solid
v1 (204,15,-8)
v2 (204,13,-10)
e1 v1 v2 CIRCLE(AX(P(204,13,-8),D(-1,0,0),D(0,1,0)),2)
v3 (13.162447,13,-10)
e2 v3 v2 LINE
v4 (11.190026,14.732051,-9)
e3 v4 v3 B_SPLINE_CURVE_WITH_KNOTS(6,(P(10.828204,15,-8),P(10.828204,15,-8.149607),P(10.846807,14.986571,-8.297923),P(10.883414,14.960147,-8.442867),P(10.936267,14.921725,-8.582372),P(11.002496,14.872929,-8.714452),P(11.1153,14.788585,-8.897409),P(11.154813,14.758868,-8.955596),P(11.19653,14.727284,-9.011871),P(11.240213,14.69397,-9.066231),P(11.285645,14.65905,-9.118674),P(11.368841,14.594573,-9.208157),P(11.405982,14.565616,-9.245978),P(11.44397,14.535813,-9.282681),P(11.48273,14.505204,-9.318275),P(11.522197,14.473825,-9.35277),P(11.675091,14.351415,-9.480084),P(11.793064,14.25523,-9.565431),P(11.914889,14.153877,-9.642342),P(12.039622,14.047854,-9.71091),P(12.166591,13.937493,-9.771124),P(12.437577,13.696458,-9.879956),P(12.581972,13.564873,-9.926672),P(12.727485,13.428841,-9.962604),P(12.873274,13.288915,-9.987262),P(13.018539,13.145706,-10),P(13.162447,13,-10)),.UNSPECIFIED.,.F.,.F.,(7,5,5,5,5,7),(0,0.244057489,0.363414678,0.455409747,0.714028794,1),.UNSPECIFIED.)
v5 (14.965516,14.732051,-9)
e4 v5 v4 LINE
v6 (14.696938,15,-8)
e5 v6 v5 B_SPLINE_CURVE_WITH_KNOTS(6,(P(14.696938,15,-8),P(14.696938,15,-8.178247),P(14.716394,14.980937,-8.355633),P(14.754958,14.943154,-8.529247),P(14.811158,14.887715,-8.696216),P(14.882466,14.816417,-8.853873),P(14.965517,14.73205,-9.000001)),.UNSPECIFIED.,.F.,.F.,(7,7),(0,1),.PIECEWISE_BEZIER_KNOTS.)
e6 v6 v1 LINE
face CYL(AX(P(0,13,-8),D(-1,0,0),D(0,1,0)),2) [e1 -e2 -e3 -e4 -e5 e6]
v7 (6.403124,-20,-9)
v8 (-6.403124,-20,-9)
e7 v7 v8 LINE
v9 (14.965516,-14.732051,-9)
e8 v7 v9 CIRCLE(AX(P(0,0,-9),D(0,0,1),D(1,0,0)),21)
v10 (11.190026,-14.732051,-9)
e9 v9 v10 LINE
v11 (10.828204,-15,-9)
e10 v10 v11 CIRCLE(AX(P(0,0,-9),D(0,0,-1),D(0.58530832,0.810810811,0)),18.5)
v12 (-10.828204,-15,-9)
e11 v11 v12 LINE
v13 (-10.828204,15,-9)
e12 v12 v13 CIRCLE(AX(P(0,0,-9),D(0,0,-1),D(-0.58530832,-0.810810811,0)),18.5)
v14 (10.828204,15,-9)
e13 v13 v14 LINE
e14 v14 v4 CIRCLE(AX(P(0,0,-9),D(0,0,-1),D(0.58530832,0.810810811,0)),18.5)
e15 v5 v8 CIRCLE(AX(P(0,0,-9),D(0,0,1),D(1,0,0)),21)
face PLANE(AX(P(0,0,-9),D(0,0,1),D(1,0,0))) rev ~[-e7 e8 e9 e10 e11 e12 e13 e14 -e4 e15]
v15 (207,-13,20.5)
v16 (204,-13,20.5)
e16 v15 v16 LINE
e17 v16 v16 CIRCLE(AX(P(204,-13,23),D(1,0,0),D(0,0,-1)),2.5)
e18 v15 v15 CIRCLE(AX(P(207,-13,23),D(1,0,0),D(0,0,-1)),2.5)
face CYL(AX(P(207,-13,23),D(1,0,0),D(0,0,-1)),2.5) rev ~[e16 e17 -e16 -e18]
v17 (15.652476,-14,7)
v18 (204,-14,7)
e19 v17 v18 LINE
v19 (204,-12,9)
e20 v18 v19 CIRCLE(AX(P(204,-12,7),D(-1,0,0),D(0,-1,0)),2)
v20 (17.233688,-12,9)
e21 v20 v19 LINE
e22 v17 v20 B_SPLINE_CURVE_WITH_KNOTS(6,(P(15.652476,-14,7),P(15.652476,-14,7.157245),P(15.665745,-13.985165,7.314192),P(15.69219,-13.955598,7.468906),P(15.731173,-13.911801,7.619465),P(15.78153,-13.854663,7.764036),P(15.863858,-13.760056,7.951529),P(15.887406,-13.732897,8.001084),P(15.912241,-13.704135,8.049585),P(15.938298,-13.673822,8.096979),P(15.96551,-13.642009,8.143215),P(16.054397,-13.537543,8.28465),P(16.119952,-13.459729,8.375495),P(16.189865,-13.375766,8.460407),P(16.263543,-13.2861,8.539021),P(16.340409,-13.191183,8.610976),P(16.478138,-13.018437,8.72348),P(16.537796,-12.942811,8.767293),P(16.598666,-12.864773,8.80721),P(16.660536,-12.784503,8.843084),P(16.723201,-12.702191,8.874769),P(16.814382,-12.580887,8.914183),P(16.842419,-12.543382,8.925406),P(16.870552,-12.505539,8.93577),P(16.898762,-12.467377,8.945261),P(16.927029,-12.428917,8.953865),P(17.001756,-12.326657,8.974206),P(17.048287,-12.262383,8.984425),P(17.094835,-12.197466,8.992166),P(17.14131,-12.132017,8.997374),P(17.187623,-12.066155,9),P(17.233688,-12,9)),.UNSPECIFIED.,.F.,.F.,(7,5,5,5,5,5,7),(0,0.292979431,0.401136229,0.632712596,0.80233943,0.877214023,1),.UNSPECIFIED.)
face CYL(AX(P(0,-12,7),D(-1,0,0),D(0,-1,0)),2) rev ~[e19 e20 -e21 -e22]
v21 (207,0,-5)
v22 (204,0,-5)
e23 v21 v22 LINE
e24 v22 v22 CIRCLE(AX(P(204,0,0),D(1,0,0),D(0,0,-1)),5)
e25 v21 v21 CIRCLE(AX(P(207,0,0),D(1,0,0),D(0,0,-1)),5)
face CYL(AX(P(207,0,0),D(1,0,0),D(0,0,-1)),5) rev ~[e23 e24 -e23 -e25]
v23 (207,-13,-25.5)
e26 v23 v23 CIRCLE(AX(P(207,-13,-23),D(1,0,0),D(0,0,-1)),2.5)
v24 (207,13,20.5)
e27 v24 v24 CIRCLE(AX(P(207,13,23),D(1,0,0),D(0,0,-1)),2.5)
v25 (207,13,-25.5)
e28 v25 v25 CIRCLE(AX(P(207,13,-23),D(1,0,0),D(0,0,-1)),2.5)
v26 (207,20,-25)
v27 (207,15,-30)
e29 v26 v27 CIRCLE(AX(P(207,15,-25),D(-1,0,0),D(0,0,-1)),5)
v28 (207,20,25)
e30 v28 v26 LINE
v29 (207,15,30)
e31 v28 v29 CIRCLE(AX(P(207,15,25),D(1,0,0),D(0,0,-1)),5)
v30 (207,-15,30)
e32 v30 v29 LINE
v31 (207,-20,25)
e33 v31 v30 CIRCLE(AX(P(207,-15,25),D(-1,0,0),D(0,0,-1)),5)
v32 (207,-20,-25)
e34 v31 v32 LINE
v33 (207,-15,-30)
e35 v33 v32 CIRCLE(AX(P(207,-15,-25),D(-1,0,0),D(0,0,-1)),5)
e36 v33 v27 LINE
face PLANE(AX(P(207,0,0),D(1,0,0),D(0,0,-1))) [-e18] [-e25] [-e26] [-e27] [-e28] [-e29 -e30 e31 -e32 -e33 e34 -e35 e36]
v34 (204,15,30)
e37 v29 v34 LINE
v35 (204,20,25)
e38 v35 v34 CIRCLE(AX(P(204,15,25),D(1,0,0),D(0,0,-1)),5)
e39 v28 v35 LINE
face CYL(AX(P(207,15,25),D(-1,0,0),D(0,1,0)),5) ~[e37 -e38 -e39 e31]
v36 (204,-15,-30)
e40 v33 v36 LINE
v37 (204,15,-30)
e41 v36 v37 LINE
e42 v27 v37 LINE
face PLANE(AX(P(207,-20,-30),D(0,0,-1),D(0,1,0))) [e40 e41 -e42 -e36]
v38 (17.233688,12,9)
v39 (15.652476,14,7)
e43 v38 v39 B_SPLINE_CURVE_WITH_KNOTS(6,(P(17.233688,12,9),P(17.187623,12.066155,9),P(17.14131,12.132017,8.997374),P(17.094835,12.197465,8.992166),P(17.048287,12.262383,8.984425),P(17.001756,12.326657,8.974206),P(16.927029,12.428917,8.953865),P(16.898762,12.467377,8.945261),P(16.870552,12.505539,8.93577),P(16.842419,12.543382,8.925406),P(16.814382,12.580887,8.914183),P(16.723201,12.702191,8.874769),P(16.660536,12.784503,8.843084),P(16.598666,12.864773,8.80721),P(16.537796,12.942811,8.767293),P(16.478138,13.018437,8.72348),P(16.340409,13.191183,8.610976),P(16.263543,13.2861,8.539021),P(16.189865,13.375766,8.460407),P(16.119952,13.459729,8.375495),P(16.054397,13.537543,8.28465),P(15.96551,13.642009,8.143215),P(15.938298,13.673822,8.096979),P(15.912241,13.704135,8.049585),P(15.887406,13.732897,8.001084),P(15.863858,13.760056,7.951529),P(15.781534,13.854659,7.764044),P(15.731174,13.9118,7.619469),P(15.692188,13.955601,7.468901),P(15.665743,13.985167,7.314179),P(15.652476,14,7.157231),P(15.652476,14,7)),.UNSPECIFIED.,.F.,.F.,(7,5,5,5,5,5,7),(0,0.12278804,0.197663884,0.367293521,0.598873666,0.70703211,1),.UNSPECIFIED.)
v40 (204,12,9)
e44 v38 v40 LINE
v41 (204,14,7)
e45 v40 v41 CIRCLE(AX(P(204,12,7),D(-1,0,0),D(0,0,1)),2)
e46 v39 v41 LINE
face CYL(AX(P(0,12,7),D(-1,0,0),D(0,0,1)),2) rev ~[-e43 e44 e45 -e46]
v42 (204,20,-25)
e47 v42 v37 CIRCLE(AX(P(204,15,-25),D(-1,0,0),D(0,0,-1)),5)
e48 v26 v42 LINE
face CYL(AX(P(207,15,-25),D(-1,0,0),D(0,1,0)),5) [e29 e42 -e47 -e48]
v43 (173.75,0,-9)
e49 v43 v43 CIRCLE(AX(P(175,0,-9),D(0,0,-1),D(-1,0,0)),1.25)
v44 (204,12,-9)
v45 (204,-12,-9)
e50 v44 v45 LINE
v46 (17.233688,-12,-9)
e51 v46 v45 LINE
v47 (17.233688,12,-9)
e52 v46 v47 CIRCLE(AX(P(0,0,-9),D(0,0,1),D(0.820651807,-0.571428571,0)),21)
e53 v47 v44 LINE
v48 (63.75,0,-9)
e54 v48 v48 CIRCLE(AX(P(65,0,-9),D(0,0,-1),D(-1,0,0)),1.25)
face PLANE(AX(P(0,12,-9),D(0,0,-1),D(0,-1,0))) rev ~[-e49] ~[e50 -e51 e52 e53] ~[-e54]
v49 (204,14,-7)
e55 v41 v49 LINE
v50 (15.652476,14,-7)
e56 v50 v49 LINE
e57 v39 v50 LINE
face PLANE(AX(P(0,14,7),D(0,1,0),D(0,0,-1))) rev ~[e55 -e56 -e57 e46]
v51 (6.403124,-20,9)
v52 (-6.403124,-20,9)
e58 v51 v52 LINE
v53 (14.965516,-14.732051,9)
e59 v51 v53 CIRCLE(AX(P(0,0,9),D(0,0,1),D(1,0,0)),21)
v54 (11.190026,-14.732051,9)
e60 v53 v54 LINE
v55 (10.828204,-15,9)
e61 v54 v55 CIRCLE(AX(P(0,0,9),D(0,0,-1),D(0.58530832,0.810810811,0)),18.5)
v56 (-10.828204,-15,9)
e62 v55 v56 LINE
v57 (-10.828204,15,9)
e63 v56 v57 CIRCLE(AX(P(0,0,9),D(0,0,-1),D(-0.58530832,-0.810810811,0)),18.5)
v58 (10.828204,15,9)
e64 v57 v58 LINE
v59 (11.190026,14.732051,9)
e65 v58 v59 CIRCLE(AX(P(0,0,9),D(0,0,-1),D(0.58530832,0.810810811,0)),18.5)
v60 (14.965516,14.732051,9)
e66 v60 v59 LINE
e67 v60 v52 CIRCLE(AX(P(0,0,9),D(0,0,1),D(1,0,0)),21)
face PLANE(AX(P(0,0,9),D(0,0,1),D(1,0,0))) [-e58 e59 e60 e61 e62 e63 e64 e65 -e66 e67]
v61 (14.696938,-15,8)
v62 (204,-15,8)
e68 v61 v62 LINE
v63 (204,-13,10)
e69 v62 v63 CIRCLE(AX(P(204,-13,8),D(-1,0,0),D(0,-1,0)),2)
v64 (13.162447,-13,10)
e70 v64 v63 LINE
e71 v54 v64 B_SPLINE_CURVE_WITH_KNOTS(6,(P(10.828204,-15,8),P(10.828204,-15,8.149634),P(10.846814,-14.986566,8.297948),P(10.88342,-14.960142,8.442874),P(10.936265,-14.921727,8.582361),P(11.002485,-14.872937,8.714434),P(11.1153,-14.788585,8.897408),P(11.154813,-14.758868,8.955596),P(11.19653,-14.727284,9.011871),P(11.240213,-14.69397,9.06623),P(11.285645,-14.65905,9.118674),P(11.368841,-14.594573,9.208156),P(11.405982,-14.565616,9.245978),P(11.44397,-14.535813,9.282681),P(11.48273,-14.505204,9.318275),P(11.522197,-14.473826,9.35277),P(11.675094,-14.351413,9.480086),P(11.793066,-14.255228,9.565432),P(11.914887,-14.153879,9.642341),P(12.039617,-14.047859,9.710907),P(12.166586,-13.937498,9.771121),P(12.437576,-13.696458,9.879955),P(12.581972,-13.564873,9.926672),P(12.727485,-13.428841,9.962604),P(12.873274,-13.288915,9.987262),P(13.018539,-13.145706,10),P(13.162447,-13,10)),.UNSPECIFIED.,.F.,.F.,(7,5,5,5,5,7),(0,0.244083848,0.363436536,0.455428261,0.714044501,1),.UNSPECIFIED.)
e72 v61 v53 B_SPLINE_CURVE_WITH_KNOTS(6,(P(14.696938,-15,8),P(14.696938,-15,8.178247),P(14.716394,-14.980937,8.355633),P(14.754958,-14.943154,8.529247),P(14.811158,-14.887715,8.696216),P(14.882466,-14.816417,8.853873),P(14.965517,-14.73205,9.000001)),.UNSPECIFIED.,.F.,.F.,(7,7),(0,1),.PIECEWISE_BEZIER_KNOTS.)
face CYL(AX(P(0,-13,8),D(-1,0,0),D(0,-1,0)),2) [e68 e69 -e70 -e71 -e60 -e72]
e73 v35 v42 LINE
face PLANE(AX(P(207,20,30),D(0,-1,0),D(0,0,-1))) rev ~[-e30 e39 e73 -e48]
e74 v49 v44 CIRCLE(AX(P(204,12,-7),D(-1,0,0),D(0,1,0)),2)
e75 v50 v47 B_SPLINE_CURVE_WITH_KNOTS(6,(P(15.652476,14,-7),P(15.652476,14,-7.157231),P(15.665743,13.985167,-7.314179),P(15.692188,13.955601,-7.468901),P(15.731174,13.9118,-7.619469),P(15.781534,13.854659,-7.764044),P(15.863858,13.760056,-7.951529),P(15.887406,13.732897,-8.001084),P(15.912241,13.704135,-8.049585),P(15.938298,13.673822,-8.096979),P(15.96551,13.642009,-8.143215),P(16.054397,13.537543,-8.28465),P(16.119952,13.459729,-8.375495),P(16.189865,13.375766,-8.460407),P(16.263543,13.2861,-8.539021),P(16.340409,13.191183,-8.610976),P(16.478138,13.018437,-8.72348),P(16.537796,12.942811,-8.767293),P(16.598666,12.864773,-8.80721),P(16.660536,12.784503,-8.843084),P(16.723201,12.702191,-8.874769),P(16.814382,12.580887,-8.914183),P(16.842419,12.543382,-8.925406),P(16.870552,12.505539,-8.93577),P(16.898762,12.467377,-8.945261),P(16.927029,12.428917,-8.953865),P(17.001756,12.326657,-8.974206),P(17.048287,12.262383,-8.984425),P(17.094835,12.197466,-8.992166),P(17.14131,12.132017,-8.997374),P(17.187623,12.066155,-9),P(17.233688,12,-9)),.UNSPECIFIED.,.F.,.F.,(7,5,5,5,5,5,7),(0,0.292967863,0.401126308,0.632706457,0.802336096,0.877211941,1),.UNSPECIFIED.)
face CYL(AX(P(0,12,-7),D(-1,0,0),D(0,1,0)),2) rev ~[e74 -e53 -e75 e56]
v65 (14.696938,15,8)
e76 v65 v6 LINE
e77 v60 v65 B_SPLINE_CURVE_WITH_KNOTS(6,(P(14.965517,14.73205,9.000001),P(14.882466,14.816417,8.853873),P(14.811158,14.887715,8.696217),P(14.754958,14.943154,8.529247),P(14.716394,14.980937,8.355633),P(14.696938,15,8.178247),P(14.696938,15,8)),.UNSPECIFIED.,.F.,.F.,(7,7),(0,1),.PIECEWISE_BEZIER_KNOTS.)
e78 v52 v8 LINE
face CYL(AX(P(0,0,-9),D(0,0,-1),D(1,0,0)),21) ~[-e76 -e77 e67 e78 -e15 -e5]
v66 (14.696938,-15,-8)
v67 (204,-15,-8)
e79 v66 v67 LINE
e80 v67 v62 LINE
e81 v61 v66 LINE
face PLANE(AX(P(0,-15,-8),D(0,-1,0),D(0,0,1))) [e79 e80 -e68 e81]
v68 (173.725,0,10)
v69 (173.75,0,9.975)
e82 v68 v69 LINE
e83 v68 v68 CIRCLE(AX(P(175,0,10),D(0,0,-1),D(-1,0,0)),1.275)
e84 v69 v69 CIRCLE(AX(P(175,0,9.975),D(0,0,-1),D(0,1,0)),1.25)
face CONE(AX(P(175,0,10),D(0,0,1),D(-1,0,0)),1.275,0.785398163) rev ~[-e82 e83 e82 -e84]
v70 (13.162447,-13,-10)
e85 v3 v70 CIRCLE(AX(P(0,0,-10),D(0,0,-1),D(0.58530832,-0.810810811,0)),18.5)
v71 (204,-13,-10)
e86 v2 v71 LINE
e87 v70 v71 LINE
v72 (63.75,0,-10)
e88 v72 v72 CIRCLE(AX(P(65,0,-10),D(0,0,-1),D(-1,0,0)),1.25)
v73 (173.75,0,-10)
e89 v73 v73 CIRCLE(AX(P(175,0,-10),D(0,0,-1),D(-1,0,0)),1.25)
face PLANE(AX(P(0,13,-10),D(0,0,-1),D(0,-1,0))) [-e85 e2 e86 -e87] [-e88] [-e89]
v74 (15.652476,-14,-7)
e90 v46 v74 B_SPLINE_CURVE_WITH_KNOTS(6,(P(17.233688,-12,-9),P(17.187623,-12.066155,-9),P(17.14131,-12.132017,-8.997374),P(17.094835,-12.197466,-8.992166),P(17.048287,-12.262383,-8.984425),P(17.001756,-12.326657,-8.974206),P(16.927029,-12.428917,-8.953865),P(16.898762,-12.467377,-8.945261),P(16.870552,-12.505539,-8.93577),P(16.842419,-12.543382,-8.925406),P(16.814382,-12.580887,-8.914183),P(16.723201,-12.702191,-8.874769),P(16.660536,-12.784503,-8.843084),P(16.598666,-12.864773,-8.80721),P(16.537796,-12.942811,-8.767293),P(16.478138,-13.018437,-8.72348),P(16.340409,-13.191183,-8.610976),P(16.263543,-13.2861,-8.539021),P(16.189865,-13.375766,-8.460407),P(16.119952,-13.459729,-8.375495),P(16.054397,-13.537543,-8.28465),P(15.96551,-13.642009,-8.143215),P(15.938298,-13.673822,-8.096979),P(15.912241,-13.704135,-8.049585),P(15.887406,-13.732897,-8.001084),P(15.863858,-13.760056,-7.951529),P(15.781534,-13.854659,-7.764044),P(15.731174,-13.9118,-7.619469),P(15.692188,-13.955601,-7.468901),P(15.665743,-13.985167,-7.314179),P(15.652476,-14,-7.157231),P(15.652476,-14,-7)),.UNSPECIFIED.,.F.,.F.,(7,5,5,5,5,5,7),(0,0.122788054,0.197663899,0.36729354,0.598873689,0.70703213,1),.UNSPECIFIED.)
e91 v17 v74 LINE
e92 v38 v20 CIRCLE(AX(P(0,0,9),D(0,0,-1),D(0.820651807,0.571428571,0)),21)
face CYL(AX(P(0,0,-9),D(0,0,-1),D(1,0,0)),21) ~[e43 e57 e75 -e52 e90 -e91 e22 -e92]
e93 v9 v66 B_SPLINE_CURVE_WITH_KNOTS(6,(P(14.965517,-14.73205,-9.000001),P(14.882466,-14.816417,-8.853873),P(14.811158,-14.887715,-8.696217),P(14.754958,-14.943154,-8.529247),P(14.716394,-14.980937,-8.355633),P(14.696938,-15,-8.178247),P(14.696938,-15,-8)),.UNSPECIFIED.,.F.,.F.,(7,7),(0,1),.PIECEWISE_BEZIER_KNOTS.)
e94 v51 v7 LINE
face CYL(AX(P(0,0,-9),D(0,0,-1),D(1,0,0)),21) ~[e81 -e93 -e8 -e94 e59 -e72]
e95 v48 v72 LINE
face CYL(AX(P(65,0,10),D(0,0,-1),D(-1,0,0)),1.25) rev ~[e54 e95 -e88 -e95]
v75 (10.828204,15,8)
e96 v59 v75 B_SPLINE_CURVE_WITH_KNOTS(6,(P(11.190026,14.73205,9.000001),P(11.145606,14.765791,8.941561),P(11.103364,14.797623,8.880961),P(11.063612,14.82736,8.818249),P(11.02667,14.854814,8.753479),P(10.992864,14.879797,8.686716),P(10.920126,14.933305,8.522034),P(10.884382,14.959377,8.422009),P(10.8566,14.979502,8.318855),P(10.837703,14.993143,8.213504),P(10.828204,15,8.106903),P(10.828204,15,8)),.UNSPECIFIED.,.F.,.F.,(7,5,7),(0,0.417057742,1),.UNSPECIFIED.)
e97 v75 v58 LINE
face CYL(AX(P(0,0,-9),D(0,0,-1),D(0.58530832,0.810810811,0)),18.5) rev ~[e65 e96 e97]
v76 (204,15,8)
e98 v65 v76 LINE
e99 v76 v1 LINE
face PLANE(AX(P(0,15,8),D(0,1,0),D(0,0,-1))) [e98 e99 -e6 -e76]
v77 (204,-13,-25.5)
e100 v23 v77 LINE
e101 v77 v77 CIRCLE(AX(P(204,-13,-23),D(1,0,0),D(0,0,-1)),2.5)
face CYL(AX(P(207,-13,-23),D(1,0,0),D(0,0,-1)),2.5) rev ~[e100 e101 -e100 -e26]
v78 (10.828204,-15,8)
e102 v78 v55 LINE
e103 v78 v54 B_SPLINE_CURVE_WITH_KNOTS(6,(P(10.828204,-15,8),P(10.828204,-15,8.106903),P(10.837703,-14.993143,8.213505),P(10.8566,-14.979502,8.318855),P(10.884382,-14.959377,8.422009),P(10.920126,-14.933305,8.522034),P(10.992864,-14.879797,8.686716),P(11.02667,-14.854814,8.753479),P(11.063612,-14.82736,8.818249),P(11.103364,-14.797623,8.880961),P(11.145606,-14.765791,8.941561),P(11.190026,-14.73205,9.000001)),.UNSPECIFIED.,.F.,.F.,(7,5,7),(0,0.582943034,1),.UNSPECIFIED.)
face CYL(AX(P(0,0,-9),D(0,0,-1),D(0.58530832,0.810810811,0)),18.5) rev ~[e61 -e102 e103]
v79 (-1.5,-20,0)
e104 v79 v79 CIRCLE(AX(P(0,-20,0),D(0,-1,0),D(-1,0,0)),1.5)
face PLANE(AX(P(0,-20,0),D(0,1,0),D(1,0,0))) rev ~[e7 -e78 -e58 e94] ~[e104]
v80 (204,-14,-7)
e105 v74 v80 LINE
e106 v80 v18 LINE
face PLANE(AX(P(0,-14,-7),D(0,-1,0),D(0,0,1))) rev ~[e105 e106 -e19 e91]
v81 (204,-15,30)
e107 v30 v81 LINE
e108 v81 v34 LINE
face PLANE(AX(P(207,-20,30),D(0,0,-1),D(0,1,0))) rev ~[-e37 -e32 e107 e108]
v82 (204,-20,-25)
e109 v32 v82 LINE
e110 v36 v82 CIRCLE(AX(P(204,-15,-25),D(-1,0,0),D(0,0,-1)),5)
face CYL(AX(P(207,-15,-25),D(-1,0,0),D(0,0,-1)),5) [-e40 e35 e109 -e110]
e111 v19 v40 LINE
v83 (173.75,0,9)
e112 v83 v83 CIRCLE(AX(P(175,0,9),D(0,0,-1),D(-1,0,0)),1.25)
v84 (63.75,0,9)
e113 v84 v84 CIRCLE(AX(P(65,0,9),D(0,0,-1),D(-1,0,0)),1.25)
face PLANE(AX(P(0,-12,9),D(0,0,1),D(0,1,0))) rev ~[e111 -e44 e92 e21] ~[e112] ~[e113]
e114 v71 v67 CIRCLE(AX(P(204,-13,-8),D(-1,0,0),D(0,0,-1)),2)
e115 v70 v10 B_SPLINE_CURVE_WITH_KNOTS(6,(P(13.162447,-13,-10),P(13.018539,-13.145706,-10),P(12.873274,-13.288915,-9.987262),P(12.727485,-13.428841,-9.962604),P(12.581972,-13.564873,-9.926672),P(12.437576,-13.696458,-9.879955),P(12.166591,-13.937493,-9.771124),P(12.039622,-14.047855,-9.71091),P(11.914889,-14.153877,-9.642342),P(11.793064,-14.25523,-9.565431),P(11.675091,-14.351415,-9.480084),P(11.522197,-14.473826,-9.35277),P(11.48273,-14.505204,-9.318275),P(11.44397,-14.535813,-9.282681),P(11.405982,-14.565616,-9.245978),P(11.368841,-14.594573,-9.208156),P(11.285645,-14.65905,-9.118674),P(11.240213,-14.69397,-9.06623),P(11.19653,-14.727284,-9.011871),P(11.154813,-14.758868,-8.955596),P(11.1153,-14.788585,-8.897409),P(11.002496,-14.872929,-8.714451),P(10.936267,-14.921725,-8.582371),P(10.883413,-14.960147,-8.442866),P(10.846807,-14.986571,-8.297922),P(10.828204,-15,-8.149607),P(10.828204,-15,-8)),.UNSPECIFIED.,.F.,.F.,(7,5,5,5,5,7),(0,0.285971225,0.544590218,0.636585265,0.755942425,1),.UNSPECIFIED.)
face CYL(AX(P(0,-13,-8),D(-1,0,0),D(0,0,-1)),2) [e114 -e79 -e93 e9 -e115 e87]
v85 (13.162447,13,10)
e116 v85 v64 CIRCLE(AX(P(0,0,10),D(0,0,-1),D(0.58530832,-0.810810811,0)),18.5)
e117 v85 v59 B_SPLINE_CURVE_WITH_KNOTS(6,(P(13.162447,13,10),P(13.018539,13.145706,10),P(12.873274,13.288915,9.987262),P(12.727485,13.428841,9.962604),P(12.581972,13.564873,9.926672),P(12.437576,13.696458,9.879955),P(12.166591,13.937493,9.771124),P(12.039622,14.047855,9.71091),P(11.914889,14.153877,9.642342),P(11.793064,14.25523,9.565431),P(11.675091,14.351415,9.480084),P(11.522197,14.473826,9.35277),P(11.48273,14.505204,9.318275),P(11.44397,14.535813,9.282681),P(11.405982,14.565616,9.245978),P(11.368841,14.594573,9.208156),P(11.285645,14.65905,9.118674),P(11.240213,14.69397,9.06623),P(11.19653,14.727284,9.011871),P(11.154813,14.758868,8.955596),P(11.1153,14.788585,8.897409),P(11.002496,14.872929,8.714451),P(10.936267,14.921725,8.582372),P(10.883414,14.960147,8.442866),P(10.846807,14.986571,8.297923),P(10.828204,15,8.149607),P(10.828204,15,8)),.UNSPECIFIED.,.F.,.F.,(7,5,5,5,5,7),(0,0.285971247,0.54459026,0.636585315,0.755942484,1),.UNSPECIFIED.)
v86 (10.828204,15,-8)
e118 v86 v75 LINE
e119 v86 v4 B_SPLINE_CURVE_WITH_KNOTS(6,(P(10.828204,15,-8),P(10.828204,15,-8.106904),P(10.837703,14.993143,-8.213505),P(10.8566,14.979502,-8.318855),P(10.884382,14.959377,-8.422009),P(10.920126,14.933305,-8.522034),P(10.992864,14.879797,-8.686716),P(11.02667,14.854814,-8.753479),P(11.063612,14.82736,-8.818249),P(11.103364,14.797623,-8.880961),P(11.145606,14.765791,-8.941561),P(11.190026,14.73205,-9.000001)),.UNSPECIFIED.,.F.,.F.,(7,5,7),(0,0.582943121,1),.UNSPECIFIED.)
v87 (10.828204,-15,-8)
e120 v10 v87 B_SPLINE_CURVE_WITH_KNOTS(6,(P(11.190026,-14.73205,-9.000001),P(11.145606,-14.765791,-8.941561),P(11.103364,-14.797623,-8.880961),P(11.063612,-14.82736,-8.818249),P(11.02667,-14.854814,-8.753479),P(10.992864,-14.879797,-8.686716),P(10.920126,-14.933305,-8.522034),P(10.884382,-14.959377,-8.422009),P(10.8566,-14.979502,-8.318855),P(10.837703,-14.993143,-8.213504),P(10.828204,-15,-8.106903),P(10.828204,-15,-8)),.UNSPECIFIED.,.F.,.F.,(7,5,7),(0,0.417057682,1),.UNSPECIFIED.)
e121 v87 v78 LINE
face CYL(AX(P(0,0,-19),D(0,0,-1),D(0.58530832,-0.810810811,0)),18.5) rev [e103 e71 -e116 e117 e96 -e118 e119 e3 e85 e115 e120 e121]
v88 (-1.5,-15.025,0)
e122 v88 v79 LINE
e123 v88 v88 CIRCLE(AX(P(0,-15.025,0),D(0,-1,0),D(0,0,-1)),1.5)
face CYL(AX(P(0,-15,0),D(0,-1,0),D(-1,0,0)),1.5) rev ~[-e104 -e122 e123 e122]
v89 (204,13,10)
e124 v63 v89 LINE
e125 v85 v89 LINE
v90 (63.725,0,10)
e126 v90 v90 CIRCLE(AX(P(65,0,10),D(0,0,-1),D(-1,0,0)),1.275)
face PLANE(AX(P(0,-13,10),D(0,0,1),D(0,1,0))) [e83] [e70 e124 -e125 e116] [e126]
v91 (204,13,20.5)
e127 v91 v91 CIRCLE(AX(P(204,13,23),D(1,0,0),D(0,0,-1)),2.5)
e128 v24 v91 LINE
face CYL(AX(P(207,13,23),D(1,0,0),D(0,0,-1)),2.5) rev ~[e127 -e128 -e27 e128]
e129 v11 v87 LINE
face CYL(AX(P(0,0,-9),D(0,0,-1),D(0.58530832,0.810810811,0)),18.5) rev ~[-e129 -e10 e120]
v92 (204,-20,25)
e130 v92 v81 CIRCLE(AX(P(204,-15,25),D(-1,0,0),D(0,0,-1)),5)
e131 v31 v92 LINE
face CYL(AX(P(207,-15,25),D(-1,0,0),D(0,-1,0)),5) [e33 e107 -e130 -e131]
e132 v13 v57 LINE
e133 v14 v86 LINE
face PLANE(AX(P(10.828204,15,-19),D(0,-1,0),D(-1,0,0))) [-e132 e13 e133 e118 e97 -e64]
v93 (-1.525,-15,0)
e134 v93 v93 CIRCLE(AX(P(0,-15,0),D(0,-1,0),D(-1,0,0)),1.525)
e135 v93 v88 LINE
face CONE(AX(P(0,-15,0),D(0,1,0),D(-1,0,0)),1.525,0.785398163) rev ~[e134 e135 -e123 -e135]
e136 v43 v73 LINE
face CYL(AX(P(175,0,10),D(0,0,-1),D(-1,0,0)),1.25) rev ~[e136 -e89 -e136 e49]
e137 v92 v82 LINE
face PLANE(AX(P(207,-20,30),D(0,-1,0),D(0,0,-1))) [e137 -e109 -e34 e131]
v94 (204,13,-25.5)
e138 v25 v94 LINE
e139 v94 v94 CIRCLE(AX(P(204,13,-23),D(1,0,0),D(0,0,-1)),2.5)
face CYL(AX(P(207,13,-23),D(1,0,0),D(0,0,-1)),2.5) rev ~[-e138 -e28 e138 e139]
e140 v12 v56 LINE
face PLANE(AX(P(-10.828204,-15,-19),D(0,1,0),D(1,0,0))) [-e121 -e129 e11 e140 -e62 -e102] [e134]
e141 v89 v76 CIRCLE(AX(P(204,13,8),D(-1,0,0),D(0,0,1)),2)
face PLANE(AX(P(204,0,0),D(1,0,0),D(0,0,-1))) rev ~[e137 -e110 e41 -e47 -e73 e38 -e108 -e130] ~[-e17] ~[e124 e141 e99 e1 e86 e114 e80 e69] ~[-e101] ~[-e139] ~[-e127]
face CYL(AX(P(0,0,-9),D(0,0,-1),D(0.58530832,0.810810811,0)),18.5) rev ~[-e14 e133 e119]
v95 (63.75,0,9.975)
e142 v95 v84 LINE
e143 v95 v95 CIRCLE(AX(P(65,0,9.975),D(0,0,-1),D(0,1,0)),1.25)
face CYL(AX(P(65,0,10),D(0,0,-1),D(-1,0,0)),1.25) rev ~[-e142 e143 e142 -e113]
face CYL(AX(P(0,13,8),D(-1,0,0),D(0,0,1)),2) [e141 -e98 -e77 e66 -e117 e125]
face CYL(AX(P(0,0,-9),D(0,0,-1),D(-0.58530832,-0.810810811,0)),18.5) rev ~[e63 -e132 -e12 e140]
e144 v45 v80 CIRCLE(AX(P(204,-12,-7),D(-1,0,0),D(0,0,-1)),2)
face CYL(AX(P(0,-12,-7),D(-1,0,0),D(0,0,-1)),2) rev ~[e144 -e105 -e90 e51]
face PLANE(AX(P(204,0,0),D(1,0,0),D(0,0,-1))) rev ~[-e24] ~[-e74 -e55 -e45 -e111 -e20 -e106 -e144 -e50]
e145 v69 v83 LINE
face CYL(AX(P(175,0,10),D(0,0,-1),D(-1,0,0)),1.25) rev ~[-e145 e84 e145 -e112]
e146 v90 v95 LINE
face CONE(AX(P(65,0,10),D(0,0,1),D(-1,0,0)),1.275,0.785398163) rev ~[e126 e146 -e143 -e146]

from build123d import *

# Parameters (mm, degrees)
BOSS_EXTRUDE1_DEPTH             = 207
SKETCH9_W                       = 60.00000000000001
SKETCH9_H                       = 40.00000000000001
SKETCH9_R                       = 5.000000000000005
SKETCH9_R_2                     = 2.5000000000000018
BOSS_EXTRUDE2_DEPTH             = 3
BOSS_EXTRUDE3_DEPTH             = 9
BOSS_EXTRUDE3_DEPTH_BACK        = 9
SKETCH10_R                      = 21
CUT_EXTRUDE1_DEPTH              = 19
CUT_EXTRUDE1_DEPTH_BACK         = 19
F_3_0MM_DOWEL_HOLE1_D           = 3
F_3_0MM_DOWEL_HOLE1_DEPTH       = 7.5
F_3_0MM_DOWEL_HOLE1_CSINK_D     = 3.05
F_3_0MM_DOWEL_HOLE1_CSINK_ANGLE = 90
F_3_0MM_DOWEL_HOLE1_TIP         = 0.9012909285413404
FILLET1_R                       = 5
SKETCH13_W                      = 19.825171117808697
SKETCH13_H                      = 19.67209798719679
CUT_EXTRUDE2_DEPTH              = 10
F_2_5MM_DOWEL_HOLE1_D           = 2.5
F_2_5MM_DOWEL_HOLE1_CSINK_D     = 2.55
F_2_5MM_DOWEL_HOLE1_CSINK_ANGLE = 90


with BuildPart() as part:
    # Sketch2 → Boss-Extrude1 (new body)
    with BuildSketch(Plane(origin=(0, 0, 0), x_dir=(0, 0, -1), z_dir=(1, 0, 0))):
        with BuildLine():
            Line((-7.999999999999989, 15), (7.999999999999983, 15))
            ThreePointArc((7.999999999999983, 15), (9.414213562373092, 14.414213562373094), (9.999999999999996, 12.999999999999986))
            Line((9.999999999999996, 12.999999999999986), (10, -12.999999999999986))
            ThreePointArc((10, -12.999999999999986), (9.414213562373096, -14.414213562373094), (7.999999999999987, -15))
            Line((7.999999999999987, -15), (-7.999999999999987, -15))
            ThreePointArc((-7.999999999999987, -15), (-9.414213562373096, -14.414213562373094), (-10, -12.999999999999986))
            Line((-10, -12.999999999999986), (-10.000000000000004, 12.999999999999986))
            ThreePointArc((-10.000000000000004, 12.999999999999986), (-9.4142135623731, 14.414213562373096), (-7.999999999999989, 15))
        make_face()
        with BuildLine():
            Line((-6.999999999999988, 13.999999999999996), (6.999999999999982, 13.999999999999996))
            ThreePointArc((6.999999999999982, 13.999999999999996), (8.41421356237309, 13.41421356237309), (8.999999999999996, 11.999999999999982))
            Line((8.999999999999996, 11.999999999999982), (9.000000000000002, -11.999999999999988))
            ThreePointArc((9.000000000000002, -11.999999999999988), (8.414213562373096, -13.414213562373098), (6.999999999999987, -14.000000000000002))
            Line((6.999999999999987, -14.000000000000002), (-6.999999999999984, -14.000000000000002))
            ThreePointArc((-6.999999999999984, -14.000000000000002), (-8.414213562373092, -13.414213562373096), (-8.999999999999998, -11.999999999999988))
            Line((-8.999999999999998, -11.999999999999988), (-9.000000000000004, 11.999999999999982))
            ThreePointArc((-9.000000000000004, 11.999999999999982), (-8.4142135623731, 13.414213562373092), (-6.999999999999988, 13.999999999999996))
        make_face(mode=Mode.SUBTRACT)
    extrude(amount=BOSS_EXTRUDE1_DEPTH)

    # Sketch9 → Boss-Extrude2 (add)
    with BuildSketch(Plane(origin=(207, 0, 0), x_dir=(0, 0, -1), z_dir=(1, 0, 0))):
        Rectangle(SKETCH9_W, SKETCH9_H)
        Circle(SKETCH9_R, mode=Mode.SUBTRACT)
        with Locations((-22.999999999999996, -13)):
            Circle(SKETCH9_R_2, mode=Mode.SUBTRACT)
        with Locations((-23, 13)):
            Circle(SKETCH9_R_2, mode=Mode.SUBTRACT)
        with Locations((22.999999999999996, -13)):
            Circle(SKETCH9_R_2, mode=Mode.SUBTRACT)
        with Locations((23, 13)):
            Circle(SKETCH9_R_2, mode=Mode.SUBTRACT)
    extrude(amount=-BOSS_EXTRUDE2_DEPTH)

    # Sketch10 → Boss-Extrude3 (add, two sides: drawn at the far end of the back side and taken through both)
    with BuildSketch(Plane.XY.offset(-BOSS_EXTRUDE3_DEPTH_BACK)):
        Circle(SKETCH10_R)
        with BuildLine():
            Line((10.828203913853855, -15.000000000000002), (-10.828203913853855, -15.000000000000002))
            ThreePointArc((-10.828203913853852, -15.000000000000005), (-18.5, -5.95e-15), (-10.828203913853862, 14.999999999999996))
            Line((-10.82820391385386, 14.999999999999996), (10.82820391385386, 14.999999999999996))
            ThreePointArc((10.828203913853862, 14.999999999999998), (18.5, -3.55e-15), (10.828203913853855, -15.000000000000002))
        make_face(mode=Mode.SUBTRACT)
    extrude(amount=BOSS_EXTRUDE3_DEPTH + BOSS_EXTRUDE3_DEPTH_BACK)

    # Sketch10<3> → Cut-Extrude1 (cut, two sides: drawn at the far end of the back side and taken through both)
    with BuildSketch(Plane.XY.offset(-CUT_EXTRUDE1_DEPTH_BACK)):
        with BuildLine():
            Line((-10.828203913853855, -15.000000000000002), (10.828203913853855, -15.000000000000002))
            ThreePointArc((10.828203913853848, -15.000000000000009), (16.47075851936237, -8.42402004964684), (18.5, -4.53e-15))
            ThreePointArc((18.5, 0), (16.470758519362374, 8.424020049646831), (10.828203913853859, 14.999999999999998))
            Line((10.82820391385386, 14.999999999999996), (-10.82820391385386, 14.999999999999996))
            ThreePointArc((-10.828203913853862, 14.999999999999996), (-18.5, -5.95e-15), (-10.828203913853852, -15.000000000000005))
        make_face()
    extrude(amount=CUT_EXTRUDE1_DEPTH + CUT_EXTRUDE1_DEPTH_BACK, mode=Mode.SUBTRACT)

    # Ø3.0mm Dowel Hole1
    with Locations(Plane(origin=(0, -15.000000000000002, 0), x_dir=(1, 0, 0), z_dir=(0, 1, 0))):
        with Locations((0, 0)):
            CounterSinkHole(F_3_0MM_DOWEL_HOLE1_D / 2, F_3_0MM_DOWEL_HOLE1_CSINK_D / 2, depth=F_3_0MM_DOWEL_HOLE1_DEPTH, counter_sink_angle=F_3_0MM_DOWEL_HOLE1_CSINK_ANGLE)
            with Locations((0, 0, -(F_3_0MM_DOWEL_HOLE1_DEPTH + F_3_0MM_DOWEL_HOLE1_TIP / 2))):  # 118° drill point
                Cone(0, F_3_0MM_DOWEL_HOLE1_D / 2, F_3_0MM_DOWEL_HOLE1_TIP, mode=Mode.SUBTRACT)

    # Fillet1
    fillet1_edges = [part.edges().sort_by_distance(p)[0] for p in [
        (205.5, 20.000000000000004, 30),
        (205.5, -20.000000000000004, 30),
        (205.5, -20.000000000000004, -30),
        (205.5, 20.000000000000004, -30),
    ]]
    fillet(fillet1_edges, radius=FILLET1_R)

    # Sketch13 → Cut-Extrude2 (cut)
    with BuildSketch(Plane(origin=(0, -20, 0), x_dir=(1, 0, 0), z_dir=(0, 1, 0))):
        Rectangle(SKETCH13_W, SKETCH13_H)
    extrude(amount=-CUT_EXTRUDE2_DEPTH, mode=Mode.SUBTRACT)

    # Ø2.5mm Dowel Hole1 (through all)
    with Locations(Plane.XY.offset(10.000000000000002)):
        with Locations((65, 0), (175, 0)):
            CounterSinkHole(F_2_5MM_DOWEL_HOLE1_D / 2, F_2_5MM_DOWEL_HOLE1_CSINK_D / 2, counter_sink_angle=F_2_5MM_DOWEL_HOLE1_CSINK_ANGLE)


solid = part.part
